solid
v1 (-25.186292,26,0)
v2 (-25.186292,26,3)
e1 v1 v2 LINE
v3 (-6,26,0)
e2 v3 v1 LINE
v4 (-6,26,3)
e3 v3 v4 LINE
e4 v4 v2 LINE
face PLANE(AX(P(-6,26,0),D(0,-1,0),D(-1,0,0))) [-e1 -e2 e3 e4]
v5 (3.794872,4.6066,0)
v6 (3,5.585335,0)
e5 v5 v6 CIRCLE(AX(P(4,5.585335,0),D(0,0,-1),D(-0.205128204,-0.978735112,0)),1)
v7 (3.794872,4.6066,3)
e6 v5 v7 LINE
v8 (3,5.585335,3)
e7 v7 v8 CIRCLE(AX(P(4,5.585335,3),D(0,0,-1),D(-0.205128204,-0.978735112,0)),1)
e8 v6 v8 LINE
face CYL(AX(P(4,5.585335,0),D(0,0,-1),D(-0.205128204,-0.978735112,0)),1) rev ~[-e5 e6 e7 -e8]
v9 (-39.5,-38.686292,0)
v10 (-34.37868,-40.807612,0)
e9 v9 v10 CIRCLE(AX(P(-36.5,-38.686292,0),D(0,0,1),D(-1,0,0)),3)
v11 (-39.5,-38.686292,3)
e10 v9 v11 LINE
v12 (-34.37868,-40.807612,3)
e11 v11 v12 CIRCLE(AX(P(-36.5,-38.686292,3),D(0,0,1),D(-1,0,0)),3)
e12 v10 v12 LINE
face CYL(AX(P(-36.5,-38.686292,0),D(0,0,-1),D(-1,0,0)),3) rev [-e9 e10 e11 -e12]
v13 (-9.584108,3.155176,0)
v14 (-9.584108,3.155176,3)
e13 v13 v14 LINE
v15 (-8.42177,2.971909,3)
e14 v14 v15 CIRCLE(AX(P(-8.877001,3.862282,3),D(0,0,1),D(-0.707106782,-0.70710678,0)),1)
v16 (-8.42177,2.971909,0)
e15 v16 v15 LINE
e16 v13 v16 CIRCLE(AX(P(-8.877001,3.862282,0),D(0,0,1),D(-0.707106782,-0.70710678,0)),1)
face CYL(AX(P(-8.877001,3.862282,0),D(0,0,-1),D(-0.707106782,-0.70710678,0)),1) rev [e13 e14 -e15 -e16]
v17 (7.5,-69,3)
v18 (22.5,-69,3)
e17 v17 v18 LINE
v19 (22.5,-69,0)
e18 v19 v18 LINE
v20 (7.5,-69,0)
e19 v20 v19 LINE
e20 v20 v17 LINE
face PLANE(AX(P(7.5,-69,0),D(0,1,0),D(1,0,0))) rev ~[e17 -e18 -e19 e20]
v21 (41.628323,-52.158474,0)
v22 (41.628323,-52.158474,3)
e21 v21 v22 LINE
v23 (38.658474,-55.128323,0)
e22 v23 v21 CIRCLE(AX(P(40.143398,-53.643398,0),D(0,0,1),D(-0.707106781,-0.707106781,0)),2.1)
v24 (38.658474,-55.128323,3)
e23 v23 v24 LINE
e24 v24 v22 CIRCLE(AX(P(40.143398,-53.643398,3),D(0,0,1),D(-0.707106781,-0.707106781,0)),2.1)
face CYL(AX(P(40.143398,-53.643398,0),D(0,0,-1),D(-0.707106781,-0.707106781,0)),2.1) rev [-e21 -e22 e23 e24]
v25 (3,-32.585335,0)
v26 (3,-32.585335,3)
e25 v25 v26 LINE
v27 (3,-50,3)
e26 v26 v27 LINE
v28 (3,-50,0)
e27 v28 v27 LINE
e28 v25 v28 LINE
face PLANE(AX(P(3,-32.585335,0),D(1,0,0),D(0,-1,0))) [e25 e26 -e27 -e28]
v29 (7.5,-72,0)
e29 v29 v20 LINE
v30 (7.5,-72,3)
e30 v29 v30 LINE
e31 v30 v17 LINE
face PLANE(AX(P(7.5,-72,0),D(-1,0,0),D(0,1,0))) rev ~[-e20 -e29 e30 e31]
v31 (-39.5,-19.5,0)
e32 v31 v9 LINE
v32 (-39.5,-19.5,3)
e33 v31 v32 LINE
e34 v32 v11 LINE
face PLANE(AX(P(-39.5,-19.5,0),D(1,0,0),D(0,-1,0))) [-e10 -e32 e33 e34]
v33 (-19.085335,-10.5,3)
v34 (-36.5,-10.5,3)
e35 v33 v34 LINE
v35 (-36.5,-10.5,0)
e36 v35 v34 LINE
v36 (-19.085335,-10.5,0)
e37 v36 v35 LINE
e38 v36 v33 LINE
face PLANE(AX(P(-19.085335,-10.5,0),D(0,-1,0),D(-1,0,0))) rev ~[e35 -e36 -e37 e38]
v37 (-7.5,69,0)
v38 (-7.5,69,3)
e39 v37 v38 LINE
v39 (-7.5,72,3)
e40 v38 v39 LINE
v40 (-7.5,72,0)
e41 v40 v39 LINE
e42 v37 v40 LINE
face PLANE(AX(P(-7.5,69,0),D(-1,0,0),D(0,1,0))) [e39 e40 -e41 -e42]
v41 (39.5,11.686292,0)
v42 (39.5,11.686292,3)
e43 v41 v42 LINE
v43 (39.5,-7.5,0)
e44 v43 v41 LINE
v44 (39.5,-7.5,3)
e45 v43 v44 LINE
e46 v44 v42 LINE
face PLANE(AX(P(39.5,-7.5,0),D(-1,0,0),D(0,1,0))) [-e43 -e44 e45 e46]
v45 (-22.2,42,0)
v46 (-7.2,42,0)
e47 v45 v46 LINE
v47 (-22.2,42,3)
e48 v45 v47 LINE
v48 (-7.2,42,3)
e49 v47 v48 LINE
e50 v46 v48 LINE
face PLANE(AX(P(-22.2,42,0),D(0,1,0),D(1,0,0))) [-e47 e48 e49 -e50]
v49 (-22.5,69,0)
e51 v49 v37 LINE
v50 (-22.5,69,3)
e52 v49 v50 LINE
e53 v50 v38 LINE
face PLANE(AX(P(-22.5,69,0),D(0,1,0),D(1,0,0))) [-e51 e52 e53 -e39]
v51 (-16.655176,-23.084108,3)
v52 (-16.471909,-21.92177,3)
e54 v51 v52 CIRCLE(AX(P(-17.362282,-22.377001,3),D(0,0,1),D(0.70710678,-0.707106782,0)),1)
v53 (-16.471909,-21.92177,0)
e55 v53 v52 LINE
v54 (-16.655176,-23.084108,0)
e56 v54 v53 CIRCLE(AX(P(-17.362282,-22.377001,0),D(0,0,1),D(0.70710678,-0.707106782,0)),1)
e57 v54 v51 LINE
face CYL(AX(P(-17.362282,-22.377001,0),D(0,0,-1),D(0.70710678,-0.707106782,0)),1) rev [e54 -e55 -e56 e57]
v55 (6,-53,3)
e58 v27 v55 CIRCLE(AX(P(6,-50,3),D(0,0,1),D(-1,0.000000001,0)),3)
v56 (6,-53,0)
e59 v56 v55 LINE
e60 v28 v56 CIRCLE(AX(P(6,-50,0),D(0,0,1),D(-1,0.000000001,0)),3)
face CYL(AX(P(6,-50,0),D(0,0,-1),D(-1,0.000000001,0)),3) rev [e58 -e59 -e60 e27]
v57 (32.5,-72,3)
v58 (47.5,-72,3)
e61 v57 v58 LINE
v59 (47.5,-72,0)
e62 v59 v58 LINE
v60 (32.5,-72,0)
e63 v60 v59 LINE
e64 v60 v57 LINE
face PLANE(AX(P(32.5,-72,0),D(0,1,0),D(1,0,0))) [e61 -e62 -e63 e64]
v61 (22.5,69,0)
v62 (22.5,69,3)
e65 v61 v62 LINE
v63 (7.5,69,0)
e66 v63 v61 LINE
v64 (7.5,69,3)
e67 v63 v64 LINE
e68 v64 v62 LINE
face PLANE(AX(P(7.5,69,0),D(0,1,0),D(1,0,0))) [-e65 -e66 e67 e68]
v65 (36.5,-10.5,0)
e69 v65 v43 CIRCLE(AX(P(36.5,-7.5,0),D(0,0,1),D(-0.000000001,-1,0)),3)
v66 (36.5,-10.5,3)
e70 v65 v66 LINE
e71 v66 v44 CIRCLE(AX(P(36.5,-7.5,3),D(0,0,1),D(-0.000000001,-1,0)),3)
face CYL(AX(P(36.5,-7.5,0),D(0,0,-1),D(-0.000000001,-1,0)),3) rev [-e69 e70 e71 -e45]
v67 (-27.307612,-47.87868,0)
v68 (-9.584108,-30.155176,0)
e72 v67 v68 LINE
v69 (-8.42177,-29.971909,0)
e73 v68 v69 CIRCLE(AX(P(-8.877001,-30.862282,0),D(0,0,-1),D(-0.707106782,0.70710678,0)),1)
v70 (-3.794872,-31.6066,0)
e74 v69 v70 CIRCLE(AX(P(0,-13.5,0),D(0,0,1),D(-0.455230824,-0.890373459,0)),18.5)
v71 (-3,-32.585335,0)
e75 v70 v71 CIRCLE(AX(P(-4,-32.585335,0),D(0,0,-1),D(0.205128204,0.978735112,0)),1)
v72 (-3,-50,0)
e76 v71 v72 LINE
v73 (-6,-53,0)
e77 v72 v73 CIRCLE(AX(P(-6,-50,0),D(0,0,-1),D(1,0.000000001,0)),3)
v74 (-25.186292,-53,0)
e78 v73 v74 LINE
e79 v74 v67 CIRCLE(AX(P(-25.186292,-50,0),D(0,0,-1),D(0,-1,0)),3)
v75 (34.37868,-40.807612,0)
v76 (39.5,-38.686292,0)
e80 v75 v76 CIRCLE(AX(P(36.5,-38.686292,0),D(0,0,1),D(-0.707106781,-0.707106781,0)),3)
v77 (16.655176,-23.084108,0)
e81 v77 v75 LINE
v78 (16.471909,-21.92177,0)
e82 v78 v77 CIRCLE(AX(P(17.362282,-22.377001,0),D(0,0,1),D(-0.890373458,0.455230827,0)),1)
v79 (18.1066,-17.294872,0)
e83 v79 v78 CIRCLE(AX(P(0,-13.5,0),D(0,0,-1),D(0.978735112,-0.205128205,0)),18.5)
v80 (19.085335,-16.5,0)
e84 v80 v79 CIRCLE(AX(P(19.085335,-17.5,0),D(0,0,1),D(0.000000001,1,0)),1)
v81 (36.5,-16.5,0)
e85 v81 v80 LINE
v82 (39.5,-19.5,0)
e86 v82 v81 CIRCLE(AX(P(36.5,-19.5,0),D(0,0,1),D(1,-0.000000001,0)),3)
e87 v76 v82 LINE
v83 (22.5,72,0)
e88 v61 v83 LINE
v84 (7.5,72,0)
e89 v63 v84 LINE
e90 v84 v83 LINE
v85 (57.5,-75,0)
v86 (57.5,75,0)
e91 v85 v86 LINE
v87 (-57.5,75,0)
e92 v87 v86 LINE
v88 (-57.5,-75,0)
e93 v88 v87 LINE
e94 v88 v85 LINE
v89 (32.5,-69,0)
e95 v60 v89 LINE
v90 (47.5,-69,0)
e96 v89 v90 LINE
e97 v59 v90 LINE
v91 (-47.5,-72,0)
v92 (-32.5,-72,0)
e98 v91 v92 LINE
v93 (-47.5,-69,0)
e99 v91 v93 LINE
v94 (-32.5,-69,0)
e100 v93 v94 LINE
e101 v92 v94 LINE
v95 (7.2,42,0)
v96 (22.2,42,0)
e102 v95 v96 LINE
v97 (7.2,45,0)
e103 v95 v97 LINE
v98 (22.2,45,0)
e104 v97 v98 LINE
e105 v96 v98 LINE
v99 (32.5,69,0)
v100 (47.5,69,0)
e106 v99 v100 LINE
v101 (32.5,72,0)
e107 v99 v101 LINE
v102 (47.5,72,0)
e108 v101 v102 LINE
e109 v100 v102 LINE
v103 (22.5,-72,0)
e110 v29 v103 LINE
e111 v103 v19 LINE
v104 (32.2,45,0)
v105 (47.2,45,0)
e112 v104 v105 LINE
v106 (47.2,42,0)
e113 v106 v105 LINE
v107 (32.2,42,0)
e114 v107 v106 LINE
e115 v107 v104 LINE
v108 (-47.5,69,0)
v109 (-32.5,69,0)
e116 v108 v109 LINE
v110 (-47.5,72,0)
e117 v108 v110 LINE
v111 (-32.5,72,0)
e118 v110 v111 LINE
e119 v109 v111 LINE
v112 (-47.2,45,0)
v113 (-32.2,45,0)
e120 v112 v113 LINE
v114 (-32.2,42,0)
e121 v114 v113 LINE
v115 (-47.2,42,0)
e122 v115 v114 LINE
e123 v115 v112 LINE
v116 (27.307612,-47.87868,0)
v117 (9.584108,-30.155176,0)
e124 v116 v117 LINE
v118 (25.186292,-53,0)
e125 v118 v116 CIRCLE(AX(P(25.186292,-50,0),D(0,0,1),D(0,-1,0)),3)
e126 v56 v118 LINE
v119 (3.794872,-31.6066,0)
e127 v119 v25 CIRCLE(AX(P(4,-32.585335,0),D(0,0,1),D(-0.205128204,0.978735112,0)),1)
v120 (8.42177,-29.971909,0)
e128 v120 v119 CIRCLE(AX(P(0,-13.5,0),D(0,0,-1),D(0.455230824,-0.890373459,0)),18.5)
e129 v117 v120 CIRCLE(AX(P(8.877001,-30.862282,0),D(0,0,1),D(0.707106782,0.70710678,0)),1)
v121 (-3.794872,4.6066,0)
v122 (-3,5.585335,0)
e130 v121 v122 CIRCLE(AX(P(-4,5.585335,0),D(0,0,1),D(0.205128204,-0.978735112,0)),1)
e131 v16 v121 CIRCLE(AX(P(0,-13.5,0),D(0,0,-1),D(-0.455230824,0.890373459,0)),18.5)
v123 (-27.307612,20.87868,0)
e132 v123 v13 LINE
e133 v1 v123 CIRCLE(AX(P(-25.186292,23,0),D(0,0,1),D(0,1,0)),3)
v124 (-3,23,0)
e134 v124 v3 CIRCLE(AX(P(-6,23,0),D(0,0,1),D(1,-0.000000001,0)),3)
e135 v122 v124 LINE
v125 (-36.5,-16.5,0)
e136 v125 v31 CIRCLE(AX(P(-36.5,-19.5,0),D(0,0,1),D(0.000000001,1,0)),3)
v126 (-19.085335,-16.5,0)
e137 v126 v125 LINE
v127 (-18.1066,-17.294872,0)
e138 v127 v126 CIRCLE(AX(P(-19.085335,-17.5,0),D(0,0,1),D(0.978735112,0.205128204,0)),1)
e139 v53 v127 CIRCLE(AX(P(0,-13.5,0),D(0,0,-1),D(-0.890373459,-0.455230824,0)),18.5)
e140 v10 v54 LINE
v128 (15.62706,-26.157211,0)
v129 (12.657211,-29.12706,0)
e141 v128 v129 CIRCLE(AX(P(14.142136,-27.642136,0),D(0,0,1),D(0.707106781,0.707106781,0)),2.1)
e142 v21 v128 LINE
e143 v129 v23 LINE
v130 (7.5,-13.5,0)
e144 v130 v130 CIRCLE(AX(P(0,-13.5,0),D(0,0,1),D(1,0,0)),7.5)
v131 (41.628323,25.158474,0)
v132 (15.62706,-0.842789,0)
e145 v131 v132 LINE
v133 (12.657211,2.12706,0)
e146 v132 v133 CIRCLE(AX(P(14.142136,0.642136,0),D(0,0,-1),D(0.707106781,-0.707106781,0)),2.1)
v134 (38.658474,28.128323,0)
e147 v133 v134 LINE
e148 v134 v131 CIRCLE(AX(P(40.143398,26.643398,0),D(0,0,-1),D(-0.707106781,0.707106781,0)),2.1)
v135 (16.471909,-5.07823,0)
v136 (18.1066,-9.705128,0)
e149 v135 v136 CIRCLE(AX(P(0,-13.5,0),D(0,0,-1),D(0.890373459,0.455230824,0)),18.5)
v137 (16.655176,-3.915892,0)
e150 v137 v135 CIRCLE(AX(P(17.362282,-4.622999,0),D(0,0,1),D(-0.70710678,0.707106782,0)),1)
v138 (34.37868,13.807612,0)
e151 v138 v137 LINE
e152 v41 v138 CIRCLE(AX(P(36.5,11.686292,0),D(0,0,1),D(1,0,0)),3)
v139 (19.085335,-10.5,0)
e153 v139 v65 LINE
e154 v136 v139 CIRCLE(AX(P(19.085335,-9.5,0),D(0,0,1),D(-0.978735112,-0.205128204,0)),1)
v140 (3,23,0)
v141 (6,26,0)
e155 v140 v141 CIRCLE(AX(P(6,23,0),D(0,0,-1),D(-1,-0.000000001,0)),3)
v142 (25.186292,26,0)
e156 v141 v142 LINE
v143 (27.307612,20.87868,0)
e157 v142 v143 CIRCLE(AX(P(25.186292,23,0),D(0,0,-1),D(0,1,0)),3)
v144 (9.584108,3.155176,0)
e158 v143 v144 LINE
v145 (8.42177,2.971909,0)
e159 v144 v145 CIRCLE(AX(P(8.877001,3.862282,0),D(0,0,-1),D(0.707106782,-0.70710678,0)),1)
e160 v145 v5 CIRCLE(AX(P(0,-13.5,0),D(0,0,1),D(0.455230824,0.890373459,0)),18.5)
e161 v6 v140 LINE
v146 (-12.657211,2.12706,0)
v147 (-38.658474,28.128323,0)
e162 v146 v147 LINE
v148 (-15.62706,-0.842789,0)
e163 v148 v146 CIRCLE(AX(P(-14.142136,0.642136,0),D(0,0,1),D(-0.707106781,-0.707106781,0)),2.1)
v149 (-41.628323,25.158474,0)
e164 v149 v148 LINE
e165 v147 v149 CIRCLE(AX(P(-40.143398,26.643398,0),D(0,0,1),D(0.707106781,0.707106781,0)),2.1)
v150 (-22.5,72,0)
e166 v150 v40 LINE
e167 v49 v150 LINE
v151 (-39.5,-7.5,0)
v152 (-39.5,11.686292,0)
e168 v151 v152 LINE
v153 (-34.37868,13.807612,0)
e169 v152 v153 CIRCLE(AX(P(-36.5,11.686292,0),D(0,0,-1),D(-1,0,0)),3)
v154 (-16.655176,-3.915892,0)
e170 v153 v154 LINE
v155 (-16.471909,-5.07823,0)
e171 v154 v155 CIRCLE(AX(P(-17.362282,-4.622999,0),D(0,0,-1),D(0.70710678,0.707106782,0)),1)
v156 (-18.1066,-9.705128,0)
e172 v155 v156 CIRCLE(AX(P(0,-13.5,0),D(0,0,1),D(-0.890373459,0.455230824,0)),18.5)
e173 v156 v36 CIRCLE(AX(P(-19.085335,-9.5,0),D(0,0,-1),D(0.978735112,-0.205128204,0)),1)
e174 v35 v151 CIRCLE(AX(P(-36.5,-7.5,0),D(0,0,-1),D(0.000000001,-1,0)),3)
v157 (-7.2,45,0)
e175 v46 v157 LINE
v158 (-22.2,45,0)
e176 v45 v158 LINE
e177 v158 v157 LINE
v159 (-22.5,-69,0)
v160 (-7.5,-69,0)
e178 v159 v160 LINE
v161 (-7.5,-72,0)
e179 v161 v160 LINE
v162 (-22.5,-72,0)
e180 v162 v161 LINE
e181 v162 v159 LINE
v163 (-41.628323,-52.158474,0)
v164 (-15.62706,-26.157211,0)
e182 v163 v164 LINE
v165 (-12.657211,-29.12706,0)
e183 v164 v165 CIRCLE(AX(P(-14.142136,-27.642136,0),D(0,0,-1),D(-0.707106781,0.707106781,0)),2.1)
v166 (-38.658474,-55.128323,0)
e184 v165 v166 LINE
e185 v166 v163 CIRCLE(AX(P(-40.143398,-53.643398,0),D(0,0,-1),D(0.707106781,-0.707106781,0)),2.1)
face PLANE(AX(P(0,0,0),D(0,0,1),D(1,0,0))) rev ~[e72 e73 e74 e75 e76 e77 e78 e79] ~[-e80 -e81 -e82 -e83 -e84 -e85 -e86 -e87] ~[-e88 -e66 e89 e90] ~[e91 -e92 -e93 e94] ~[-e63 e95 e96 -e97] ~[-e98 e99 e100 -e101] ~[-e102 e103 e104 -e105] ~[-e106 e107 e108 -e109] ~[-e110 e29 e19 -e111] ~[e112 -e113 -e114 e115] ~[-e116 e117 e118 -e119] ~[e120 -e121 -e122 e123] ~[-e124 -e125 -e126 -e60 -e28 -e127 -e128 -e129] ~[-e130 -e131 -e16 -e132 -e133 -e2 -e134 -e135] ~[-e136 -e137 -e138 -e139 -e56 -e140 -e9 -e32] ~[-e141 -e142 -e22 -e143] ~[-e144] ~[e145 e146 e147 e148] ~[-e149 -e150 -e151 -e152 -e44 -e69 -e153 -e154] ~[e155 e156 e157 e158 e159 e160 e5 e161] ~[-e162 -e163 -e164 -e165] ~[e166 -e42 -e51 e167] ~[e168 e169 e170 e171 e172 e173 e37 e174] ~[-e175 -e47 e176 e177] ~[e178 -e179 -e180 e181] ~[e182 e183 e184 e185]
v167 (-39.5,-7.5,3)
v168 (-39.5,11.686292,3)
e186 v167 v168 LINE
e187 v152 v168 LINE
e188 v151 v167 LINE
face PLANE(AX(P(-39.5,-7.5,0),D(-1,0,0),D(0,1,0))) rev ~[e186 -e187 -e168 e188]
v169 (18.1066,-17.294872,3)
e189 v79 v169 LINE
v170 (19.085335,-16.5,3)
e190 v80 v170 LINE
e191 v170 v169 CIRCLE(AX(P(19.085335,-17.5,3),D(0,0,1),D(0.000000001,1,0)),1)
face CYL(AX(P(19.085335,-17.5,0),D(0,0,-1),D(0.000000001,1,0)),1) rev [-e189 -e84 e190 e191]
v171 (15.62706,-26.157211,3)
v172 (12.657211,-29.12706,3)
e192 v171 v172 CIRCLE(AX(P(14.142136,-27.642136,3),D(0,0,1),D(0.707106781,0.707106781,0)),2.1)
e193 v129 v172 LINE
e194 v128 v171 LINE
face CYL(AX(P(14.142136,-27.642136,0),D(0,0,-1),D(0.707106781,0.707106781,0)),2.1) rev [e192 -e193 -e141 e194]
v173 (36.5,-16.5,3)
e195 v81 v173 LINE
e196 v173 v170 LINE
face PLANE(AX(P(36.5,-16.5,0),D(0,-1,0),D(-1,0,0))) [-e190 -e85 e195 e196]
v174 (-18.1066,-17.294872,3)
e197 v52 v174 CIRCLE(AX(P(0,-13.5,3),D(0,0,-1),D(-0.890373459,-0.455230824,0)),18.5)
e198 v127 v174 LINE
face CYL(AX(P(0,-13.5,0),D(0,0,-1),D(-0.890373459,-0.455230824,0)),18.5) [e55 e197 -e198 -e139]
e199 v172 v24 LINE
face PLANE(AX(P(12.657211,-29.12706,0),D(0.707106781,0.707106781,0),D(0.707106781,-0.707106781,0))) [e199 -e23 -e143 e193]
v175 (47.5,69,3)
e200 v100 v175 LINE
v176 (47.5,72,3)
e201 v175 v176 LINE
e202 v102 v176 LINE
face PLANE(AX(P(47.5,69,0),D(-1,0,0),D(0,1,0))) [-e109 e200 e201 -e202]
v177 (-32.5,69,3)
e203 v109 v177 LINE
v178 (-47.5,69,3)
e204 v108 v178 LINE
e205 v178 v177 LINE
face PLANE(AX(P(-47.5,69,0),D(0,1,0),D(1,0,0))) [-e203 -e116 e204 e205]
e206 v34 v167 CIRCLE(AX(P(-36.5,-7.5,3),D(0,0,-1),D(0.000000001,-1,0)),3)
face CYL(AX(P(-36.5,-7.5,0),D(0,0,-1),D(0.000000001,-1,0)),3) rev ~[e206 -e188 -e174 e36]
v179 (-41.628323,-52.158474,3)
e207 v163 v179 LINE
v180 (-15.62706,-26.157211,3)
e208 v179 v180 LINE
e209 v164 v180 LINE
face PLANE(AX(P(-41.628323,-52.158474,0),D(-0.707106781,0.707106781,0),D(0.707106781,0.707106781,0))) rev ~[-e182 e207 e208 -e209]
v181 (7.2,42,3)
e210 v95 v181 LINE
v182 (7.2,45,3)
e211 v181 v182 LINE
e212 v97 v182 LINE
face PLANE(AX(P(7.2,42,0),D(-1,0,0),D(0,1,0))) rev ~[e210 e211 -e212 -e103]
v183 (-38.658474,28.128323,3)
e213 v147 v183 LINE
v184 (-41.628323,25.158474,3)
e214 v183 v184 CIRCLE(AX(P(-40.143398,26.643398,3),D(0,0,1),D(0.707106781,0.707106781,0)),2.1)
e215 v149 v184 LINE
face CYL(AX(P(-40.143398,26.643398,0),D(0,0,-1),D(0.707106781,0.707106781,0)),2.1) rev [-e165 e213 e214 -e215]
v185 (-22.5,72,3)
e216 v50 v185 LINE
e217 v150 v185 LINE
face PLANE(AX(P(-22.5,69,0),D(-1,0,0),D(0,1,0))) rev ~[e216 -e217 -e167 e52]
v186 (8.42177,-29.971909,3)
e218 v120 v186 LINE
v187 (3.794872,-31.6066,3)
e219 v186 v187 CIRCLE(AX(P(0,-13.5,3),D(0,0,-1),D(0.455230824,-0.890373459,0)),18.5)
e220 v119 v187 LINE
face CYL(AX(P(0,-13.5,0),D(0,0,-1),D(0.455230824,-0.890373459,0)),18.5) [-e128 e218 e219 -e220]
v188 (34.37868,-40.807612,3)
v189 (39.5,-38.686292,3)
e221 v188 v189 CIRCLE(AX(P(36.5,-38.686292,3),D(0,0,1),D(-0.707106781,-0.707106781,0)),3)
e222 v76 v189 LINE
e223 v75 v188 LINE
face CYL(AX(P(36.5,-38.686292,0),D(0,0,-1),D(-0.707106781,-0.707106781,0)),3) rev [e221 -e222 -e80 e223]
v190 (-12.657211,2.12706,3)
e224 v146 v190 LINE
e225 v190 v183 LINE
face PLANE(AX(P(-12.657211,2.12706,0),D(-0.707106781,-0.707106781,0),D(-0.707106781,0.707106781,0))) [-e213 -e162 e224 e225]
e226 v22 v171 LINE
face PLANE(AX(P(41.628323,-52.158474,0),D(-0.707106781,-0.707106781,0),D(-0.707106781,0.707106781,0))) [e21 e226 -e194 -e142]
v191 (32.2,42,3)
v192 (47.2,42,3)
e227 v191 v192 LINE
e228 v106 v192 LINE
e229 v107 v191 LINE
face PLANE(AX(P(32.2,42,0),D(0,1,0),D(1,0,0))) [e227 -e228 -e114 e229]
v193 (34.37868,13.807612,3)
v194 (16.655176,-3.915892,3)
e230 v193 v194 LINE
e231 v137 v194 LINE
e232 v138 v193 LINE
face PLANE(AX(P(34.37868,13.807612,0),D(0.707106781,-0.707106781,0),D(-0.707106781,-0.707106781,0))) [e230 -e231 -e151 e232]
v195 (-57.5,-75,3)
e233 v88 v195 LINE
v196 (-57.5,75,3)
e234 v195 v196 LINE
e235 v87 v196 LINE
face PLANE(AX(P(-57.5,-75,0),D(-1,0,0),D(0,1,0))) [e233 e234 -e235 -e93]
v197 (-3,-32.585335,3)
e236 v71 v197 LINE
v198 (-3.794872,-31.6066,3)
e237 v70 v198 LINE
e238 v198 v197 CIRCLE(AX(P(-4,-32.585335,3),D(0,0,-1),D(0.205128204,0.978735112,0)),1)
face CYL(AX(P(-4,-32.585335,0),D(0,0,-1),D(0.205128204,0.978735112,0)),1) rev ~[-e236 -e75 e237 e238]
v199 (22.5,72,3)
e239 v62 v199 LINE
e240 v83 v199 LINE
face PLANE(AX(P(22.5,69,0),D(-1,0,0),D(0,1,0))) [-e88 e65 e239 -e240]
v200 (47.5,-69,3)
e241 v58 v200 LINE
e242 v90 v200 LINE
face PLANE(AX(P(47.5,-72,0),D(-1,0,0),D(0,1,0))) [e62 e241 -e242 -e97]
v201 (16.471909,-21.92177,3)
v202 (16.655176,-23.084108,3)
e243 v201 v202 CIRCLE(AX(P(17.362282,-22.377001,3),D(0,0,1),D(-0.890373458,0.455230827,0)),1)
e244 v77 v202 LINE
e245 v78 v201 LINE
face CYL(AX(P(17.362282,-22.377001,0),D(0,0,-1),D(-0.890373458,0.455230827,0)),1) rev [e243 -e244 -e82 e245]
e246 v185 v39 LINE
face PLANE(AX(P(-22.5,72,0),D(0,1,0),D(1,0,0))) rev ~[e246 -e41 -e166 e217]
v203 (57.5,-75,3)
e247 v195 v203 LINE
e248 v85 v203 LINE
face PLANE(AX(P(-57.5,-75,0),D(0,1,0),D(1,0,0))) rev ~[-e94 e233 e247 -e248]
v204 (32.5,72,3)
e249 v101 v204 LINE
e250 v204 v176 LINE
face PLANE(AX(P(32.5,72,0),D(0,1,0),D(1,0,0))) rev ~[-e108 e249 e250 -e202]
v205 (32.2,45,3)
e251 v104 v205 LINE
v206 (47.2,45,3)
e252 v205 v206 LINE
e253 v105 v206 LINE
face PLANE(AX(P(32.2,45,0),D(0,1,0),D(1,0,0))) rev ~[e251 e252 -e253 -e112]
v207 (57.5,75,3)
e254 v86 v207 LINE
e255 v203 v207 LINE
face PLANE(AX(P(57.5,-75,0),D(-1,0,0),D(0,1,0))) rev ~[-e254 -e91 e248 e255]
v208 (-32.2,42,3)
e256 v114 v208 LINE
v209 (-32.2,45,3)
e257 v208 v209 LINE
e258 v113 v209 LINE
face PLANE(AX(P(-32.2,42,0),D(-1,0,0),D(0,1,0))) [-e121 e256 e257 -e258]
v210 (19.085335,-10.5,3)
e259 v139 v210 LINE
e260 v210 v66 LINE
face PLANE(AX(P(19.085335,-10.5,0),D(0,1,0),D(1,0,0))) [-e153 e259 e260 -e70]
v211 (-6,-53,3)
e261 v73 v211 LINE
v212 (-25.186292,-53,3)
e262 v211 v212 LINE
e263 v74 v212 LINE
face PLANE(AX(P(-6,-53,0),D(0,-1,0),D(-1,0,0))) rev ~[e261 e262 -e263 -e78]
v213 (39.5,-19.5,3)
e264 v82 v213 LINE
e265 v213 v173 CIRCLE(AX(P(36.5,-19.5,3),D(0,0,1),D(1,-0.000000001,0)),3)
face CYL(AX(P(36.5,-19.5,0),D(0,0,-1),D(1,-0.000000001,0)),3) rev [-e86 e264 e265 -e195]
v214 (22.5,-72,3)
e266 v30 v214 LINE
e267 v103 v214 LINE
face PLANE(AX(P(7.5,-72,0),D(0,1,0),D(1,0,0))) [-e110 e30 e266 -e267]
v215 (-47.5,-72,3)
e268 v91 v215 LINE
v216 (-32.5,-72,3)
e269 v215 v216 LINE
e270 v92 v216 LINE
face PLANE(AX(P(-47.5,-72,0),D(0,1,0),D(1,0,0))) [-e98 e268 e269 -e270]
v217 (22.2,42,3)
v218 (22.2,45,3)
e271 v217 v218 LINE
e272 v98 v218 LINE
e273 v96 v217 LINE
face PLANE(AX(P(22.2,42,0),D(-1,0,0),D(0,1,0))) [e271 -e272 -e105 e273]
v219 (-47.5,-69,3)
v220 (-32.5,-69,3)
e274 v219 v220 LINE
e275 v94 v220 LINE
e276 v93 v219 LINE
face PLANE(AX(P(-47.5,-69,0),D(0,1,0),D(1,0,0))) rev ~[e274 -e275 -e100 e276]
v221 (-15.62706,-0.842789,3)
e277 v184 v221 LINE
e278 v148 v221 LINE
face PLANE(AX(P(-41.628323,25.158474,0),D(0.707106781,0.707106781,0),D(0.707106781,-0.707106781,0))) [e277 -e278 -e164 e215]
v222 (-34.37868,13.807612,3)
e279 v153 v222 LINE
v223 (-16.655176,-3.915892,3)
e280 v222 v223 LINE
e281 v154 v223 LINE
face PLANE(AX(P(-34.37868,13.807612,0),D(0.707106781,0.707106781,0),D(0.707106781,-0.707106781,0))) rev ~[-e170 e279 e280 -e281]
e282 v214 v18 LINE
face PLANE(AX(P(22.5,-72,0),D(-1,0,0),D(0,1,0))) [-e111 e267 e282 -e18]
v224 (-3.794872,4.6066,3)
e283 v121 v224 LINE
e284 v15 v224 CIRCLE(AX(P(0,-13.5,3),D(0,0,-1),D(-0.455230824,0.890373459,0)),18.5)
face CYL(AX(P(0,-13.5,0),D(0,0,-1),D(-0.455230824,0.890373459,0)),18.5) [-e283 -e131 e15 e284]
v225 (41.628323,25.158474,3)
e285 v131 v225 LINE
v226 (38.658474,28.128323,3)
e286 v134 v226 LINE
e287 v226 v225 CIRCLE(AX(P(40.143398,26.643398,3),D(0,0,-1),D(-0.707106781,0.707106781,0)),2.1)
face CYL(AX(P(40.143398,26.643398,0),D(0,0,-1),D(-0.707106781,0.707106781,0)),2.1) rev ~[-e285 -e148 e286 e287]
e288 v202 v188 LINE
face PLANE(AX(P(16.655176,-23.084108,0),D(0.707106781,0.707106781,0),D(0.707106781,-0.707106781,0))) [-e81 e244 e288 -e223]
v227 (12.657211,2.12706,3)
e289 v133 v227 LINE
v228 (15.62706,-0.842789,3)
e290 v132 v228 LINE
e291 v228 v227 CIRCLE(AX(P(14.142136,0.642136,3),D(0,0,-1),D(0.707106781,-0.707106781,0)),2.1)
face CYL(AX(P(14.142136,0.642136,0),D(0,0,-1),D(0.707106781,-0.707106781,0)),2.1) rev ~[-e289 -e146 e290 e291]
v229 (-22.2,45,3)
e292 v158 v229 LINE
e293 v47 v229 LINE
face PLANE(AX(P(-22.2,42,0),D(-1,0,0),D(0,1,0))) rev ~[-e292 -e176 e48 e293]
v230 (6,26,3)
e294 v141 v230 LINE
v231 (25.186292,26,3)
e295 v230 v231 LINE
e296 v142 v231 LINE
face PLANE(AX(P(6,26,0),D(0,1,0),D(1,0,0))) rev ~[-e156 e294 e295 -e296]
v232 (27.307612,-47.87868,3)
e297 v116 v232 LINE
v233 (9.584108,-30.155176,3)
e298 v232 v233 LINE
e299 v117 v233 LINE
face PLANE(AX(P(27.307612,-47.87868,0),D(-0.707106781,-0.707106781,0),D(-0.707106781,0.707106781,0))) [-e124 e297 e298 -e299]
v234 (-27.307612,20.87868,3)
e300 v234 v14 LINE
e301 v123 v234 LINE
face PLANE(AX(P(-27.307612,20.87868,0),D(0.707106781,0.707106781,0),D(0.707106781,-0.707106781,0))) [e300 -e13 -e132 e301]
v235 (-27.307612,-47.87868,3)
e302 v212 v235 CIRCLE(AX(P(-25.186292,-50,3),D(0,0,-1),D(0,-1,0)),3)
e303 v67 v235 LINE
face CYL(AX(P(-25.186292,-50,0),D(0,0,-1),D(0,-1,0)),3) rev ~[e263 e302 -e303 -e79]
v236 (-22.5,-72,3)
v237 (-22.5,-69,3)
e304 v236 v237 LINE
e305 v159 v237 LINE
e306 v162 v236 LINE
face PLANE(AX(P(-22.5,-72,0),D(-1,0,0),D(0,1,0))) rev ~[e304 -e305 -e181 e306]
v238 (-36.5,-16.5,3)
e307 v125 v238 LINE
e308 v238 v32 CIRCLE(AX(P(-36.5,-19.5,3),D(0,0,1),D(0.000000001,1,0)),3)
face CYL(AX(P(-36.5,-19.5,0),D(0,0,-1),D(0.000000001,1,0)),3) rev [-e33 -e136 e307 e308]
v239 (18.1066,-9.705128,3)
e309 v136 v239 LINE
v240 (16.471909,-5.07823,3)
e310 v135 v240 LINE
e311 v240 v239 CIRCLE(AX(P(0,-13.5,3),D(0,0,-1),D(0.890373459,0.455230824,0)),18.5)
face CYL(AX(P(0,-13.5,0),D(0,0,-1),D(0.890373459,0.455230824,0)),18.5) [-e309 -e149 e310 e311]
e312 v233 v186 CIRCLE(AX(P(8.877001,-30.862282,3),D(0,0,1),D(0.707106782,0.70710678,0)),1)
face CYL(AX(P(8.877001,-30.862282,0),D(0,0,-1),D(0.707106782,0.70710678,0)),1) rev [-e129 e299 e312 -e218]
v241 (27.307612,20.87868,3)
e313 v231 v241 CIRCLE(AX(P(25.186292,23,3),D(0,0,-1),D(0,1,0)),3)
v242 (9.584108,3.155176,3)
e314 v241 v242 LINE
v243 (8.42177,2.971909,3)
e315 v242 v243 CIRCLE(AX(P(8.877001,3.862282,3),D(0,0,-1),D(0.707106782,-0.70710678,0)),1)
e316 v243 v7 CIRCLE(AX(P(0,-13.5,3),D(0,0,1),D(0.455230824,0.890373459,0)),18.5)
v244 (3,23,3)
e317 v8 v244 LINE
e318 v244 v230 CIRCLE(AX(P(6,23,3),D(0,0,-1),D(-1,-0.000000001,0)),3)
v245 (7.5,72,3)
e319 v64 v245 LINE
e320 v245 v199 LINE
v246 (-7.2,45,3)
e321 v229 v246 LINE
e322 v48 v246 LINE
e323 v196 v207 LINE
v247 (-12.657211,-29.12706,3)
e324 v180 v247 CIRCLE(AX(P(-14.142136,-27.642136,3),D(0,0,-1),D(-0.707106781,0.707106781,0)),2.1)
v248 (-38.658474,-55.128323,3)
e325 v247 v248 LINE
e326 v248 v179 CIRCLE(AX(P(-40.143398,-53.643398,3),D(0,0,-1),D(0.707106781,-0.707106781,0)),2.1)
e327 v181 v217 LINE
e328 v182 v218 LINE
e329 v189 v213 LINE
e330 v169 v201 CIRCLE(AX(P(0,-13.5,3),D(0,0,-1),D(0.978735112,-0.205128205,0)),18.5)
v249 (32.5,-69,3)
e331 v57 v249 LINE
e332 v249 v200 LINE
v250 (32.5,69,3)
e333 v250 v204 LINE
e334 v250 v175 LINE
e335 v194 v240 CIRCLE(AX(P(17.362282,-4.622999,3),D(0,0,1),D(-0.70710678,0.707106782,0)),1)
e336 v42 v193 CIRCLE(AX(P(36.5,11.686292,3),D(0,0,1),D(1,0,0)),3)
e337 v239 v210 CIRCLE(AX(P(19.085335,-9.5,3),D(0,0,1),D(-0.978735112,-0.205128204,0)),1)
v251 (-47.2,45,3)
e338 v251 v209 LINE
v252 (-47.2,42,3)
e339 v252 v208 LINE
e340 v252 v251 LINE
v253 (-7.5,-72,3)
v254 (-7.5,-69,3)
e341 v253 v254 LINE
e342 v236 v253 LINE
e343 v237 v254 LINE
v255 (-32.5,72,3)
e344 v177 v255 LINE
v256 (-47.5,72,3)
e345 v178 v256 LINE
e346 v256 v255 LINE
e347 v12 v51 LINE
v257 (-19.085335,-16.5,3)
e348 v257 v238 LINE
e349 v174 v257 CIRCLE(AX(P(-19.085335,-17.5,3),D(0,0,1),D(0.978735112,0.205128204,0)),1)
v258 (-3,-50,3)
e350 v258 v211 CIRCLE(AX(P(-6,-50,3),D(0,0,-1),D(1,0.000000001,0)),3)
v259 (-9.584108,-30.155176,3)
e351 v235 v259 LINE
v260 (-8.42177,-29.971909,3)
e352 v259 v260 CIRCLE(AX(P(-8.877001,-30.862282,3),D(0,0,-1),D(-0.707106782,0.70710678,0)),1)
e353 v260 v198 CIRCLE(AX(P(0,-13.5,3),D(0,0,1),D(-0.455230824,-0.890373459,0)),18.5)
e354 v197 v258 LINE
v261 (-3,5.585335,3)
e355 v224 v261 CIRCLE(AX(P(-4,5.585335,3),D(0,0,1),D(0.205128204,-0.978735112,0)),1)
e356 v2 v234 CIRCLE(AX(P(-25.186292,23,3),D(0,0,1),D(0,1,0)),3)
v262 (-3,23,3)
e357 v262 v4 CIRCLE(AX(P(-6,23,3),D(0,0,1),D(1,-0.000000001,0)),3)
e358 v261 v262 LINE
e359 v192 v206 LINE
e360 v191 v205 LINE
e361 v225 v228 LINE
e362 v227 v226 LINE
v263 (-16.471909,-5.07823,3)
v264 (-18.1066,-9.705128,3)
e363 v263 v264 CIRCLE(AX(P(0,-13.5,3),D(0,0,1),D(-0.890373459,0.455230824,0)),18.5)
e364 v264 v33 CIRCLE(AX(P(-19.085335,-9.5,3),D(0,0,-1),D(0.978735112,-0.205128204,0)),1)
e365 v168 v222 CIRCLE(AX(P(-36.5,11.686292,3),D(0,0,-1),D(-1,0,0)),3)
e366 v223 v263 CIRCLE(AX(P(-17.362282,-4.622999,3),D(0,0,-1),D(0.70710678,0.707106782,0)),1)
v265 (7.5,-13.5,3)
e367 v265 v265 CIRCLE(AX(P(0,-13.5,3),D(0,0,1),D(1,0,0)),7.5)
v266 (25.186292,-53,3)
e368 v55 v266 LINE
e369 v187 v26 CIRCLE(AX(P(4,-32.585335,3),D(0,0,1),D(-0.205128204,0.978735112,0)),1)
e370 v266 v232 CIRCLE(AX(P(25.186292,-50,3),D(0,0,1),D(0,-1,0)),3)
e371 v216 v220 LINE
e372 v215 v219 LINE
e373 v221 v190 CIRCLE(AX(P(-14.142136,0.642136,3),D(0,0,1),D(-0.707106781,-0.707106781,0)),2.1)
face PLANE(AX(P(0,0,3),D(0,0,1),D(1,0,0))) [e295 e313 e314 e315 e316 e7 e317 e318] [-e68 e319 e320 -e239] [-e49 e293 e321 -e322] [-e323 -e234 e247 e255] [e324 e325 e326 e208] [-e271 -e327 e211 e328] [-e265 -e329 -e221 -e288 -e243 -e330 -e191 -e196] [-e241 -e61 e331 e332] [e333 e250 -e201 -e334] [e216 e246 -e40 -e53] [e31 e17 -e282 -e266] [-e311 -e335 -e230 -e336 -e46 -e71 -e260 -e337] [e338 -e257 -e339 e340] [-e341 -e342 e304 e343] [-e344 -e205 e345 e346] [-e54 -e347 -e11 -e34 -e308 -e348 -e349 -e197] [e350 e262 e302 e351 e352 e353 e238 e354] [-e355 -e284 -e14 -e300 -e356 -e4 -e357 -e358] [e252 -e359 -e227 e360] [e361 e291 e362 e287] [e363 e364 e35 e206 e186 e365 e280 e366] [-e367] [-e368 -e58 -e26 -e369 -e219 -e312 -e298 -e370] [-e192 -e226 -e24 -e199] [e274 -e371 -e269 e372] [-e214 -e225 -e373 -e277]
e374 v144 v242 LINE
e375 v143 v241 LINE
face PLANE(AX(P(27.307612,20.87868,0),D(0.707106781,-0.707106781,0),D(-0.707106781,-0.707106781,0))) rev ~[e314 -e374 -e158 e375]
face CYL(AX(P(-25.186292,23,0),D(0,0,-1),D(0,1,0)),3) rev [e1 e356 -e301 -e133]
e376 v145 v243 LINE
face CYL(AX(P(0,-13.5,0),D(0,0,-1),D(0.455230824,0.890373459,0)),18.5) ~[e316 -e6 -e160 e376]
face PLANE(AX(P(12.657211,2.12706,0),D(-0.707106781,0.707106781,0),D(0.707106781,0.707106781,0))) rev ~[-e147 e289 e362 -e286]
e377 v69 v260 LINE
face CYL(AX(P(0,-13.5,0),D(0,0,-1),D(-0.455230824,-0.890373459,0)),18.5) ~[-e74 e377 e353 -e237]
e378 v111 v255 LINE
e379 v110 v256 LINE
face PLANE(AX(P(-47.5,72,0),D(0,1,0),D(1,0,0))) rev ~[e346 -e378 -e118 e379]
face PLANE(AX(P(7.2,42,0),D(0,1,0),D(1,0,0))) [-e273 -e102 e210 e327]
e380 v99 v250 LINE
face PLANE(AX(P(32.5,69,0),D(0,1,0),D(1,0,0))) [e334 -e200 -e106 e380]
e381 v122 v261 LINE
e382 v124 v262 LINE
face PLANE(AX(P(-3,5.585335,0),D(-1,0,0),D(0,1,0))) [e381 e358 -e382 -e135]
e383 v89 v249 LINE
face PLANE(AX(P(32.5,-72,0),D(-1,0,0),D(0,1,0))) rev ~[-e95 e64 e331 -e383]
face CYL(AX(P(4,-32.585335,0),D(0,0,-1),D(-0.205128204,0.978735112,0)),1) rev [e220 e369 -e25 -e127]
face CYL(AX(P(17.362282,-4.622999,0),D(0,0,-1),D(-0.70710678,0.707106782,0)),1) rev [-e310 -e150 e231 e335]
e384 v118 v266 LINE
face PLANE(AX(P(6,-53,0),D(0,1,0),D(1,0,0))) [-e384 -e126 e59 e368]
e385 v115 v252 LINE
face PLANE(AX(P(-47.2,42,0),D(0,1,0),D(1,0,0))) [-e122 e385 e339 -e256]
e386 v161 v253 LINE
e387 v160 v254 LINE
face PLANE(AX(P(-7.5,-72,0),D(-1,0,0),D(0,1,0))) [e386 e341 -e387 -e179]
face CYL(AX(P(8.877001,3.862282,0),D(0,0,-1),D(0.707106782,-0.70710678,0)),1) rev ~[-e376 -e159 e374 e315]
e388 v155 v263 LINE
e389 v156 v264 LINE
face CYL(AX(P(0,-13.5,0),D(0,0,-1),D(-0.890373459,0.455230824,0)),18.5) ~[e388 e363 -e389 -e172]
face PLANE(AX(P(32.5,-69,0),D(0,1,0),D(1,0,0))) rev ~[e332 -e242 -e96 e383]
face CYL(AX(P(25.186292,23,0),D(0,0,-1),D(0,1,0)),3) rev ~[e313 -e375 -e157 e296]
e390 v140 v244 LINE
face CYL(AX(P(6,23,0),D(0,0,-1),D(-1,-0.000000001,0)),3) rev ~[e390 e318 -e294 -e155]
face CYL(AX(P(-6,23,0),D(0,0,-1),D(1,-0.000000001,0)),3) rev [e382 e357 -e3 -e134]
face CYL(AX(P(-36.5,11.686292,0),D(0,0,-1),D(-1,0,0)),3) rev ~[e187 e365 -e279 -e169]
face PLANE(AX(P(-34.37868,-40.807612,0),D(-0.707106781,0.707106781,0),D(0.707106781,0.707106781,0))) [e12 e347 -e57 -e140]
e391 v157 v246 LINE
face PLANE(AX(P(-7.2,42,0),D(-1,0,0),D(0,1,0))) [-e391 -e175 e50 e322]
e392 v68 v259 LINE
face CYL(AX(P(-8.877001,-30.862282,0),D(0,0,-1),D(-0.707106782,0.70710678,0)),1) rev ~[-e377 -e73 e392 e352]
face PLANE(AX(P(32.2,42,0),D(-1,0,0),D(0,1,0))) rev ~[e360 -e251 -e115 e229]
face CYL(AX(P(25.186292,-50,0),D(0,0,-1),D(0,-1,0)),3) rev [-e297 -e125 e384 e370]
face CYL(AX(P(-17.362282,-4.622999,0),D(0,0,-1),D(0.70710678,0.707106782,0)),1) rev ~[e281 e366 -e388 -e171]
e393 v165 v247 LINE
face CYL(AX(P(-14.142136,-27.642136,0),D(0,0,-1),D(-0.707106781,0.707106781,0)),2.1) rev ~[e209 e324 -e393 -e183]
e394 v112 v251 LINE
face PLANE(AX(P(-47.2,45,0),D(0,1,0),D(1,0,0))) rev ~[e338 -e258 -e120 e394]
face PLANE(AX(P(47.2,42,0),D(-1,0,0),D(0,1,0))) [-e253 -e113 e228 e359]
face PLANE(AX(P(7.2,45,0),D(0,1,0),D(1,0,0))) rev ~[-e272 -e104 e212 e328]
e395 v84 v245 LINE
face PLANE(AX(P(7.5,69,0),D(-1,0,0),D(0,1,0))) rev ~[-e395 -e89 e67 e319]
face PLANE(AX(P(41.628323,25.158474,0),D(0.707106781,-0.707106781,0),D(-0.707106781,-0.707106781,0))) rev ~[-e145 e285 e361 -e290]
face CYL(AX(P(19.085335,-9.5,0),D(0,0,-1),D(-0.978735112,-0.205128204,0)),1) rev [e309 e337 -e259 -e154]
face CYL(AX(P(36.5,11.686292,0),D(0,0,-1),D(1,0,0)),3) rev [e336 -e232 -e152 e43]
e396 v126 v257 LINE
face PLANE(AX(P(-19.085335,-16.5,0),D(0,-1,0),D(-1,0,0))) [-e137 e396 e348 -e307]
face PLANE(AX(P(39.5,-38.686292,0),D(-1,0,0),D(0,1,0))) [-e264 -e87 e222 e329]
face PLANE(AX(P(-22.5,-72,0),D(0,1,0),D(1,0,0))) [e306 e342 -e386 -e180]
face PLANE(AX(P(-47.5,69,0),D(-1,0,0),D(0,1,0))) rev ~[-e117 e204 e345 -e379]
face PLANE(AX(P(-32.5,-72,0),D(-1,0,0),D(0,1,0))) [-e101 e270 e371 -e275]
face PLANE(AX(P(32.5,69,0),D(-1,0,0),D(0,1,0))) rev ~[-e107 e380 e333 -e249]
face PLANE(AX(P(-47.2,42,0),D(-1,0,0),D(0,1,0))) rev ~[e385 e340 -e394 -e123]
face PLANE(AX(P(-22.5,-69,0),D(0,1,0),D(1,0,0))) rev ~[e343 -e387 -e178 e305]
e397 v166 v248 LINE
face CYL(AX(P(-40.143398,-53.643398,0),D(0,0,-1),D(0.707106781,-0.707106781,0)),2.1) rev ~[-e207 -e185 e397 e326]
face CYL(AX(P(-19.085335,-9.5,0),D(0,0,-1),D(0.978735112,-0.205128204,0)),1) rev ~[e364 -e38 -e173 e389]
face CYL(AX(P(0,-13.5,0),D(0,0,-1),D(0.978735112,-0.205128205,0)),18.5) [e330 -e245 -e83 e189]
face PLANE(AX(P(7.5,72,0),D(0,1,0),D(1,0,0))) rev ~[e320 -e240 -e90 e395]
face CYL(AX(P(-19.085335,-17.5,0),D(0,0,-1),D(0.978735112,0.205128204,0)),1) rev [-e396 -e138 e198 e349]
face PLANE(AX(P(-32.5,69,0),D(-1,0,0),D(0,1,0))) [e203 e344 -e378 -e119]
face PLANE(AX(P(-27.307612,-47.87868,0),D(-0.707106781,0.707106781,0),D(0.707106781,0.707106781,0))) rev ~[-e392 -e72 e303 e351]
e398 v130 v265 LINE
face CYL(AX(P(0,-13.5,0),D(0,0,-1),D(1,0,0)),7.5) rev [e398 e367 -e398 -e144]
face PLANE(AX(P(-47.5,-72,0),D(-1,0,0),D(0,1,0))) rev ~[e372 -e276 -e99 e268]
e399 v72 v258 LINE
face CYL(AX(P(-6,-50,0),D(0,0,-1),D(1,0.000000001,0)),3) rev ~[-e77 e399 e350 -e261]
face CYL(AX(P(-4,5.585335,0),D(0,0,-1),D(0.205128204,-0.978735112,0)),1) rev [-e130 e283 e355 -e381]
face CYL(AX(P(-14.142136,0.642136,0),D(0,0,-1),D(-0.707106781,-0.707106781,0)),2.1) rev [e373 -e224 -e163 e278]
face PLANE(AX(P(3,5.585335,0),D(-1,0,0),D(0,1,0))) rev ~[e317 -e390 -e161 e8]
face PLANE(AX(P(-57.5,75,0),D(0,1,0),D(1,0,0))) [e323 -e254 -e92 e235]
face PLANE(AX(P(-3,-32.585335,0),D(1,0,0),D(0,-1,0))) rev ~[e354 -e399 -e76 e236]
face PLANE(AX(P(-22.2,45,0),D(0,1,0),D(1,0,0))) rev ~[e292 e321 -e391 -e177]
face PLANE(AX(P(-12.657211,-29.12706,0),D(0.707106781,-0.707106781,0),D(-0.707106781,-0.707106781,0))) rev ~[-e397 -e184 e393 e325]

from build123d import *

# Parameters (mm, degrees)
SKETCH1_W           = 115
SKETCH1_H           = 150
SKETCH1_R           = 7.5
SKETCH1_W_2         = 15
SKETCH1_H_2         = 3
BOSS_EXTRUDE1_DEPTH = 3


with BuildPart() as part:
    # Sketch1 → Boss-Extrude1 (new body)
    with BuildSketch(Plane.XY):
        Rectangle(SKETCH1_W, SKETCH1_H)
        with Locations((0, -13.5)):
            Circle(SKETCH1_R, mode=Mode.SUBTRACT)
        with Locations((15, 70.5)):
            Rectangle(SKETCH1_W_2, SKETCH1_H_2, mode=Mode.SUBTRACT)
        with Locations((-40, 70.5)):
            Rectangle(SKETCH1_W_2, SKETCH1_H_2, mode=Mode.SUBTRACT)
        with Locations((-15, 70.5)):
            Rectangle(SKETCH1_W_2, SKETCH1_H_2, mode=Mode.SUBTRACT)
        with Locations((40, 70.5)):
            Rectangle(SKETCH1_W_2, SKETCH1_H_2, mode=Mode.SUBTRACT)
        with Locations((40, -70.5)):
            Rectangle(SKETCH1_W_2, SKETCH1_H_2, mode=Mode.SUBTRACT)
        with Locations((15, -70.5)):
            Rectangle(SKETCH1_W_2, SKETCH1_H_2, mode=Mode.SUBTRACT)
        with Locations((-15, -70.5)):
            Rectangle(SKETCH1_W_2, SKETCH1_H_2, mode=Mode.SUBTRACT)
        with Locations((-40, -70.5)):
            Rectangle(SKETCH1_W_2, SKETCH1_H_2, mode=Mode.SUBTRACT)
        with Locations((14.7, 43.5)):
            Rectangle(SKETCH1_W_2, SKETCH1_H_2, mode=Mode.SUBTRACT)
        with Locations((-39.7, 43.5)):
            Rectangle(SKETCH1_W_2, SKETCH1_H_2, mode=Mode.SUBTRACT)
        with Locations((-14.7, 43.5)):
            Rectangle(SKETCH1_W_2, SKETCH1_H_2, mode=Mode.SUBTRACT)
        with Locations((39.7, 43.5)):
            Rectangle(SKETCH1_W_2, SKETCH1_H_2, mode=Mode.SUBTRACT)
        with BuildLine():
            Line((39.5, -7.5), (39.5, 11.686291501))
            ThreePointArc((39.5, 11.686291501), (37.648050297, 14.457930099), (34.378679656, 13.807611845))
            Line((34.378679656, 13.807611845), (16.655175669, -3.915892143))
            ThreePointArc((16.655175669, -3.915892143), (16.374485428, -4.467252196), (16.471908992, -5.078229748))
            ThreePointArc((16.471908992, -5.078229748), (17.443347183, -7.33723771), (18.106599572, -9.705128205))
            ThreePointArc((18.106599572, -9.705128205), (18.454909512, -10.276250026), (19.085334684, -10.5))
            Line((19.085334684, -10.5), (36.5, -10.5))
            ThreePointArc((36.5, -10.5), (38.621320344, -9.621320344), (39.5, -7.5))
        make_face(mode=Mode.SUBTRACT)
        with BuildLine():
            Line((3, -32.585334684), (3, -50))
            ThreePointArc((3, -50), (3.878679656, -52.121320344), (6, -53))
            Line((6, -53), (25.186291501, -53))
            ThreePointArc((25.186291501, -53), (27.957930099, -51.148050297), (27.307611845, -47.878679656))
            Line((27.307611845, -47.878679656), (9.584107857, -30.155175669))
            ThreePointArc((9.584107857, -30.155175669), (9.032747804, -29.874485428), (8.421770252, -29.971908992))
            ThreePointArc((8.421770252, -29.971908992), (6.16276229, -30.943347183), (3.794871795, -31.606599572))
            ThreePointArc((3.794871795, -31.606599572), (3.223749974, -31.954909512), (3, -32.585334684))
        make_face(mode=Mode.SUBTRACT)
        with BuildLine():
            Line((16.655175669, -23.084107857), (34.378679656, -40.807611845))
            ThreePointArc((34.378679656, -40.807611845), (37.648050297, -41.457930099), (39.5, -38.686291501))
            Line((39.5, -38.686291501), (39.5, -19.5))
            ThreePointArc((39.5, -19.5), (38.621320344, -17.378679656), (36.5, -16.5))
            Line((36.5, -16.5), (19.085334684, -16.5))
            ThreePointArc((19.085334684, -16.5), (18.454909512, -16.723749974), (18.106599572, -17.294871795))
            ThreePointArc((18.106599572, -17.294871795), (17.443347183, -19.66276229), (16.471908992, -21.921770252))
            ThreePointArc((16.471908992, -21.921770252), (16.374485428, -22.532747804), (16.655175669, -23.084107857))
        make_face(mode=Mode.SUBTRACT)
        with BuildLine():
            Line((6, 26), (25.186291501, 26))
            ThreePointArc((25.186291501, 26), (27.957930099, 24.148050297), (27.307611845, 20.878679656))
            Line((27.307611845, 20.878679656), (9.584107857, 3.155175669))
            ThreePointArc((9.584107857, 3.155175669), (9.032747804, 2.874485428), (8.421770252, 2.971908992))
            ThreePointArc((8.421770252, 2.971908992), (6.16276229, 3.943347183), (3.794871795, 4.606599572))
            ThreePointArc((3.794871795, 4.606599572), (3.223749974, 4.954909512), (3, 5.585334684))
            Line((3, 5.585334684), (3, 23))
            ThreePointArc((3, 23), (3.878679656, 25.121320344), (6, 26))
        make_face(mode=Mode.SUBTRACT)
        with BuildLine():
            Line((-3, 5.585334684), (-3, 23))
            ThreePointArc((-3, 23), (-3.878679656, 25.121320344), (-6, 26))
            Line((-6, 26), (-25.186291501, 26))
            ThreePointArc((-25.186291501, 26), (-27.957930099, 24.148050297), (-27.307611845, 20.878679656))
            Line((-27.307611845, 20.878679656), (-9.584107857, 3.155175669))
            ThreePointArc((-9.584107857, 3.155175669), (-9.032747804, 2.874485428), (-8.421770252, 2.971908992))
            ThreePointArc((-8.421770252, 2.971908992), (-6.16276229, 3.943347183), (-3.794871795, 4.606599572))
            ThreePointArc((-3.794871795, 4.606599572), (-3.223749974, 4.954909512), (-3, 5.585334684))
        make_face(mode=Mode.SUBTRACT)
        with BuildLine():
            Line((-39.5, -7.5), (-39.5, 11.686291501))
            ThreePointArc((-39.5, 11.686291501), (-37.648050297, 14.457930099), (-34.378679656, 13.807611845))
            Line((-34.378679656, 13.807611845), (-16.655175669, -3.915892143))
            ThreePointArc((-16.655175669, -3.915892143), (-16.374485428, -4.467252196), (-16.471908992, -5.078229748))
            ThreePointArc((-16.471908992, -5.078229748), (-17.443347183, -7.33723771), (-18.106599572, -9.705128205))
            ThreePointArc((-18.106599572, -9.705128205), (-18.454909512, -10.276250026), (-19.085334684, -10.5))
            Line((-19.085334684, -10.5), (-36.5, -10.5))
            ThreePointArc((-36.5, -10.5), (-38.621320344, -9.621320344), (-39.5, -7.5))
        make_face(mode=Mode.SUBTRACT)
        with BuildLine():
            Line((-19.085334684, -16.5), (-36.5, -16.5))
            ThreePointArc((-36.5, -16.5), (-38.621320344, -17.378679656), (-39.5, -19.5))
            Line((-39.5, -19.5), (-39.5, -38.686291501))
            ThreePointArc((-39.5, -38.686291501), (-37.648050297, -41.457930099), (-34.378679656, -40.807611845))
            Line((-34.378679656, -40.807611845), (-16.655175669, -23.084107857))
            ThreePointArc((-16.655175669, -23.084107857), (-16.374485428, -22.532747804), (-16.471908992, -21.921770252))
            ThreePointArc((-16.471908992, -21.921770252), (-17.443347183, -19.66276229), (-18.106599572, -17.294871795))
            ThreePointArc((-18.106599572, -17.294871795), (-18.454909512, -16.723749974), (-19.085334684, -16.5))
        make_face(mode=Mode.SUBTRACT)
        with BuildLine():
            Line((-3, -32.585334684), (-3, -50))
            ThreePointArc((-3, -50), (-3.878679656, -52.121320344), (-6, -53))
            Line((-6, -53), (-25.186291501, -53))
            ThreePointArc((-25.186291501, -53), (-27.957930099, -51.148050297), (-27.307611845, -47.878679656))
            Line((-27.307611845, -47.878679656), (-9.584107857, -30.155175669))
            ThreePointArc((-9.584107857, -30.155175669), (-9.032747804, -29.874485428), (-8.421770252, -29.971908992))
            ThreePointArc((-8.421770252, -29.971908992), (-6.16276229, -30.943347183), (-3.794871795, -31.606599572))
            ThreePointArc((-3.794871795, -31.606599572), (-3.223749974, -31.954909512), (-3, -32.585334684))
        make_face(mode=Mode.SUBTRACT)
        with BuildLine():
            Line((12.657211383, 2.127059864), (38.658474042, 28.128322523))
            ThreePointArc((38.658474042, 28.128322523), (41.628322523, 28.128322523), (41.628322523, 25.158474042))
            Line((41.628322523, 25.158474042), (15.627059864, -0.842788617))
            ThreePointArc((15.627059864, -0.842788617), (12.657211383, -0.842788617), (12.657211383, 2.127059864))
        make_face(mode=Mode.SUBTRACT)
        with BuildLine():
            Line((12.657211383, -29.127059864), (38.658474042, -55.128322523))
            ThreePointArc((38.658474042, -55.128322523), (41.628322523, -55.128322523), (41.628322523, -52.158474042))
            Line((41.628322523, -52.158474042), (15.627059864, -26.157211383))
            ThreePointArc((15.627059864, -26.157211383), (12.657211383, -26.157211383), (12.657211383, -29.127059864))
        make_face(mode=Mode.SUBTRACT)
        with BuildLine():
            Line((-12.657211383, -29.127059864), (-38.658474042, -55.128322523))
            ThreePointArc((-38.658474042, -55.128322523), (-41.628322523, -55.128322523), (-41.628322523, -52.158474042))
            Line((-41.628322523, -52.158474042), (-15.627059864, -26.157211383))
            ThreePointArc((-15.627059864, -26.157211383), (-12.657211383, -26.157211383), (-12.657211383, -29.127059864))
        make_face(mode=Mode.SUBTRACT)
        with BuildLine():
            Line((-12.657211383, 2.127059864), (-38.658474042, 28.128322523))
            ThreePointArc((-38.658474042, 28.128322523), (-41.628322523, 28.128322523), (-41.628322523, 25.158474042))
            Line((-41.628322523, 25.158474042), (-15.627059864, -0.842788617))
            ThreePointArc((-15.627059864, -0.842788617), (-12.657211383, -0.842788617), (-12.657211383, 2.127059864))
        make_face(mode=Mode.SUBTRACT)
    extrude(amount=BOSS_EXTRUDE1_DEPTH)


solid = part.part
